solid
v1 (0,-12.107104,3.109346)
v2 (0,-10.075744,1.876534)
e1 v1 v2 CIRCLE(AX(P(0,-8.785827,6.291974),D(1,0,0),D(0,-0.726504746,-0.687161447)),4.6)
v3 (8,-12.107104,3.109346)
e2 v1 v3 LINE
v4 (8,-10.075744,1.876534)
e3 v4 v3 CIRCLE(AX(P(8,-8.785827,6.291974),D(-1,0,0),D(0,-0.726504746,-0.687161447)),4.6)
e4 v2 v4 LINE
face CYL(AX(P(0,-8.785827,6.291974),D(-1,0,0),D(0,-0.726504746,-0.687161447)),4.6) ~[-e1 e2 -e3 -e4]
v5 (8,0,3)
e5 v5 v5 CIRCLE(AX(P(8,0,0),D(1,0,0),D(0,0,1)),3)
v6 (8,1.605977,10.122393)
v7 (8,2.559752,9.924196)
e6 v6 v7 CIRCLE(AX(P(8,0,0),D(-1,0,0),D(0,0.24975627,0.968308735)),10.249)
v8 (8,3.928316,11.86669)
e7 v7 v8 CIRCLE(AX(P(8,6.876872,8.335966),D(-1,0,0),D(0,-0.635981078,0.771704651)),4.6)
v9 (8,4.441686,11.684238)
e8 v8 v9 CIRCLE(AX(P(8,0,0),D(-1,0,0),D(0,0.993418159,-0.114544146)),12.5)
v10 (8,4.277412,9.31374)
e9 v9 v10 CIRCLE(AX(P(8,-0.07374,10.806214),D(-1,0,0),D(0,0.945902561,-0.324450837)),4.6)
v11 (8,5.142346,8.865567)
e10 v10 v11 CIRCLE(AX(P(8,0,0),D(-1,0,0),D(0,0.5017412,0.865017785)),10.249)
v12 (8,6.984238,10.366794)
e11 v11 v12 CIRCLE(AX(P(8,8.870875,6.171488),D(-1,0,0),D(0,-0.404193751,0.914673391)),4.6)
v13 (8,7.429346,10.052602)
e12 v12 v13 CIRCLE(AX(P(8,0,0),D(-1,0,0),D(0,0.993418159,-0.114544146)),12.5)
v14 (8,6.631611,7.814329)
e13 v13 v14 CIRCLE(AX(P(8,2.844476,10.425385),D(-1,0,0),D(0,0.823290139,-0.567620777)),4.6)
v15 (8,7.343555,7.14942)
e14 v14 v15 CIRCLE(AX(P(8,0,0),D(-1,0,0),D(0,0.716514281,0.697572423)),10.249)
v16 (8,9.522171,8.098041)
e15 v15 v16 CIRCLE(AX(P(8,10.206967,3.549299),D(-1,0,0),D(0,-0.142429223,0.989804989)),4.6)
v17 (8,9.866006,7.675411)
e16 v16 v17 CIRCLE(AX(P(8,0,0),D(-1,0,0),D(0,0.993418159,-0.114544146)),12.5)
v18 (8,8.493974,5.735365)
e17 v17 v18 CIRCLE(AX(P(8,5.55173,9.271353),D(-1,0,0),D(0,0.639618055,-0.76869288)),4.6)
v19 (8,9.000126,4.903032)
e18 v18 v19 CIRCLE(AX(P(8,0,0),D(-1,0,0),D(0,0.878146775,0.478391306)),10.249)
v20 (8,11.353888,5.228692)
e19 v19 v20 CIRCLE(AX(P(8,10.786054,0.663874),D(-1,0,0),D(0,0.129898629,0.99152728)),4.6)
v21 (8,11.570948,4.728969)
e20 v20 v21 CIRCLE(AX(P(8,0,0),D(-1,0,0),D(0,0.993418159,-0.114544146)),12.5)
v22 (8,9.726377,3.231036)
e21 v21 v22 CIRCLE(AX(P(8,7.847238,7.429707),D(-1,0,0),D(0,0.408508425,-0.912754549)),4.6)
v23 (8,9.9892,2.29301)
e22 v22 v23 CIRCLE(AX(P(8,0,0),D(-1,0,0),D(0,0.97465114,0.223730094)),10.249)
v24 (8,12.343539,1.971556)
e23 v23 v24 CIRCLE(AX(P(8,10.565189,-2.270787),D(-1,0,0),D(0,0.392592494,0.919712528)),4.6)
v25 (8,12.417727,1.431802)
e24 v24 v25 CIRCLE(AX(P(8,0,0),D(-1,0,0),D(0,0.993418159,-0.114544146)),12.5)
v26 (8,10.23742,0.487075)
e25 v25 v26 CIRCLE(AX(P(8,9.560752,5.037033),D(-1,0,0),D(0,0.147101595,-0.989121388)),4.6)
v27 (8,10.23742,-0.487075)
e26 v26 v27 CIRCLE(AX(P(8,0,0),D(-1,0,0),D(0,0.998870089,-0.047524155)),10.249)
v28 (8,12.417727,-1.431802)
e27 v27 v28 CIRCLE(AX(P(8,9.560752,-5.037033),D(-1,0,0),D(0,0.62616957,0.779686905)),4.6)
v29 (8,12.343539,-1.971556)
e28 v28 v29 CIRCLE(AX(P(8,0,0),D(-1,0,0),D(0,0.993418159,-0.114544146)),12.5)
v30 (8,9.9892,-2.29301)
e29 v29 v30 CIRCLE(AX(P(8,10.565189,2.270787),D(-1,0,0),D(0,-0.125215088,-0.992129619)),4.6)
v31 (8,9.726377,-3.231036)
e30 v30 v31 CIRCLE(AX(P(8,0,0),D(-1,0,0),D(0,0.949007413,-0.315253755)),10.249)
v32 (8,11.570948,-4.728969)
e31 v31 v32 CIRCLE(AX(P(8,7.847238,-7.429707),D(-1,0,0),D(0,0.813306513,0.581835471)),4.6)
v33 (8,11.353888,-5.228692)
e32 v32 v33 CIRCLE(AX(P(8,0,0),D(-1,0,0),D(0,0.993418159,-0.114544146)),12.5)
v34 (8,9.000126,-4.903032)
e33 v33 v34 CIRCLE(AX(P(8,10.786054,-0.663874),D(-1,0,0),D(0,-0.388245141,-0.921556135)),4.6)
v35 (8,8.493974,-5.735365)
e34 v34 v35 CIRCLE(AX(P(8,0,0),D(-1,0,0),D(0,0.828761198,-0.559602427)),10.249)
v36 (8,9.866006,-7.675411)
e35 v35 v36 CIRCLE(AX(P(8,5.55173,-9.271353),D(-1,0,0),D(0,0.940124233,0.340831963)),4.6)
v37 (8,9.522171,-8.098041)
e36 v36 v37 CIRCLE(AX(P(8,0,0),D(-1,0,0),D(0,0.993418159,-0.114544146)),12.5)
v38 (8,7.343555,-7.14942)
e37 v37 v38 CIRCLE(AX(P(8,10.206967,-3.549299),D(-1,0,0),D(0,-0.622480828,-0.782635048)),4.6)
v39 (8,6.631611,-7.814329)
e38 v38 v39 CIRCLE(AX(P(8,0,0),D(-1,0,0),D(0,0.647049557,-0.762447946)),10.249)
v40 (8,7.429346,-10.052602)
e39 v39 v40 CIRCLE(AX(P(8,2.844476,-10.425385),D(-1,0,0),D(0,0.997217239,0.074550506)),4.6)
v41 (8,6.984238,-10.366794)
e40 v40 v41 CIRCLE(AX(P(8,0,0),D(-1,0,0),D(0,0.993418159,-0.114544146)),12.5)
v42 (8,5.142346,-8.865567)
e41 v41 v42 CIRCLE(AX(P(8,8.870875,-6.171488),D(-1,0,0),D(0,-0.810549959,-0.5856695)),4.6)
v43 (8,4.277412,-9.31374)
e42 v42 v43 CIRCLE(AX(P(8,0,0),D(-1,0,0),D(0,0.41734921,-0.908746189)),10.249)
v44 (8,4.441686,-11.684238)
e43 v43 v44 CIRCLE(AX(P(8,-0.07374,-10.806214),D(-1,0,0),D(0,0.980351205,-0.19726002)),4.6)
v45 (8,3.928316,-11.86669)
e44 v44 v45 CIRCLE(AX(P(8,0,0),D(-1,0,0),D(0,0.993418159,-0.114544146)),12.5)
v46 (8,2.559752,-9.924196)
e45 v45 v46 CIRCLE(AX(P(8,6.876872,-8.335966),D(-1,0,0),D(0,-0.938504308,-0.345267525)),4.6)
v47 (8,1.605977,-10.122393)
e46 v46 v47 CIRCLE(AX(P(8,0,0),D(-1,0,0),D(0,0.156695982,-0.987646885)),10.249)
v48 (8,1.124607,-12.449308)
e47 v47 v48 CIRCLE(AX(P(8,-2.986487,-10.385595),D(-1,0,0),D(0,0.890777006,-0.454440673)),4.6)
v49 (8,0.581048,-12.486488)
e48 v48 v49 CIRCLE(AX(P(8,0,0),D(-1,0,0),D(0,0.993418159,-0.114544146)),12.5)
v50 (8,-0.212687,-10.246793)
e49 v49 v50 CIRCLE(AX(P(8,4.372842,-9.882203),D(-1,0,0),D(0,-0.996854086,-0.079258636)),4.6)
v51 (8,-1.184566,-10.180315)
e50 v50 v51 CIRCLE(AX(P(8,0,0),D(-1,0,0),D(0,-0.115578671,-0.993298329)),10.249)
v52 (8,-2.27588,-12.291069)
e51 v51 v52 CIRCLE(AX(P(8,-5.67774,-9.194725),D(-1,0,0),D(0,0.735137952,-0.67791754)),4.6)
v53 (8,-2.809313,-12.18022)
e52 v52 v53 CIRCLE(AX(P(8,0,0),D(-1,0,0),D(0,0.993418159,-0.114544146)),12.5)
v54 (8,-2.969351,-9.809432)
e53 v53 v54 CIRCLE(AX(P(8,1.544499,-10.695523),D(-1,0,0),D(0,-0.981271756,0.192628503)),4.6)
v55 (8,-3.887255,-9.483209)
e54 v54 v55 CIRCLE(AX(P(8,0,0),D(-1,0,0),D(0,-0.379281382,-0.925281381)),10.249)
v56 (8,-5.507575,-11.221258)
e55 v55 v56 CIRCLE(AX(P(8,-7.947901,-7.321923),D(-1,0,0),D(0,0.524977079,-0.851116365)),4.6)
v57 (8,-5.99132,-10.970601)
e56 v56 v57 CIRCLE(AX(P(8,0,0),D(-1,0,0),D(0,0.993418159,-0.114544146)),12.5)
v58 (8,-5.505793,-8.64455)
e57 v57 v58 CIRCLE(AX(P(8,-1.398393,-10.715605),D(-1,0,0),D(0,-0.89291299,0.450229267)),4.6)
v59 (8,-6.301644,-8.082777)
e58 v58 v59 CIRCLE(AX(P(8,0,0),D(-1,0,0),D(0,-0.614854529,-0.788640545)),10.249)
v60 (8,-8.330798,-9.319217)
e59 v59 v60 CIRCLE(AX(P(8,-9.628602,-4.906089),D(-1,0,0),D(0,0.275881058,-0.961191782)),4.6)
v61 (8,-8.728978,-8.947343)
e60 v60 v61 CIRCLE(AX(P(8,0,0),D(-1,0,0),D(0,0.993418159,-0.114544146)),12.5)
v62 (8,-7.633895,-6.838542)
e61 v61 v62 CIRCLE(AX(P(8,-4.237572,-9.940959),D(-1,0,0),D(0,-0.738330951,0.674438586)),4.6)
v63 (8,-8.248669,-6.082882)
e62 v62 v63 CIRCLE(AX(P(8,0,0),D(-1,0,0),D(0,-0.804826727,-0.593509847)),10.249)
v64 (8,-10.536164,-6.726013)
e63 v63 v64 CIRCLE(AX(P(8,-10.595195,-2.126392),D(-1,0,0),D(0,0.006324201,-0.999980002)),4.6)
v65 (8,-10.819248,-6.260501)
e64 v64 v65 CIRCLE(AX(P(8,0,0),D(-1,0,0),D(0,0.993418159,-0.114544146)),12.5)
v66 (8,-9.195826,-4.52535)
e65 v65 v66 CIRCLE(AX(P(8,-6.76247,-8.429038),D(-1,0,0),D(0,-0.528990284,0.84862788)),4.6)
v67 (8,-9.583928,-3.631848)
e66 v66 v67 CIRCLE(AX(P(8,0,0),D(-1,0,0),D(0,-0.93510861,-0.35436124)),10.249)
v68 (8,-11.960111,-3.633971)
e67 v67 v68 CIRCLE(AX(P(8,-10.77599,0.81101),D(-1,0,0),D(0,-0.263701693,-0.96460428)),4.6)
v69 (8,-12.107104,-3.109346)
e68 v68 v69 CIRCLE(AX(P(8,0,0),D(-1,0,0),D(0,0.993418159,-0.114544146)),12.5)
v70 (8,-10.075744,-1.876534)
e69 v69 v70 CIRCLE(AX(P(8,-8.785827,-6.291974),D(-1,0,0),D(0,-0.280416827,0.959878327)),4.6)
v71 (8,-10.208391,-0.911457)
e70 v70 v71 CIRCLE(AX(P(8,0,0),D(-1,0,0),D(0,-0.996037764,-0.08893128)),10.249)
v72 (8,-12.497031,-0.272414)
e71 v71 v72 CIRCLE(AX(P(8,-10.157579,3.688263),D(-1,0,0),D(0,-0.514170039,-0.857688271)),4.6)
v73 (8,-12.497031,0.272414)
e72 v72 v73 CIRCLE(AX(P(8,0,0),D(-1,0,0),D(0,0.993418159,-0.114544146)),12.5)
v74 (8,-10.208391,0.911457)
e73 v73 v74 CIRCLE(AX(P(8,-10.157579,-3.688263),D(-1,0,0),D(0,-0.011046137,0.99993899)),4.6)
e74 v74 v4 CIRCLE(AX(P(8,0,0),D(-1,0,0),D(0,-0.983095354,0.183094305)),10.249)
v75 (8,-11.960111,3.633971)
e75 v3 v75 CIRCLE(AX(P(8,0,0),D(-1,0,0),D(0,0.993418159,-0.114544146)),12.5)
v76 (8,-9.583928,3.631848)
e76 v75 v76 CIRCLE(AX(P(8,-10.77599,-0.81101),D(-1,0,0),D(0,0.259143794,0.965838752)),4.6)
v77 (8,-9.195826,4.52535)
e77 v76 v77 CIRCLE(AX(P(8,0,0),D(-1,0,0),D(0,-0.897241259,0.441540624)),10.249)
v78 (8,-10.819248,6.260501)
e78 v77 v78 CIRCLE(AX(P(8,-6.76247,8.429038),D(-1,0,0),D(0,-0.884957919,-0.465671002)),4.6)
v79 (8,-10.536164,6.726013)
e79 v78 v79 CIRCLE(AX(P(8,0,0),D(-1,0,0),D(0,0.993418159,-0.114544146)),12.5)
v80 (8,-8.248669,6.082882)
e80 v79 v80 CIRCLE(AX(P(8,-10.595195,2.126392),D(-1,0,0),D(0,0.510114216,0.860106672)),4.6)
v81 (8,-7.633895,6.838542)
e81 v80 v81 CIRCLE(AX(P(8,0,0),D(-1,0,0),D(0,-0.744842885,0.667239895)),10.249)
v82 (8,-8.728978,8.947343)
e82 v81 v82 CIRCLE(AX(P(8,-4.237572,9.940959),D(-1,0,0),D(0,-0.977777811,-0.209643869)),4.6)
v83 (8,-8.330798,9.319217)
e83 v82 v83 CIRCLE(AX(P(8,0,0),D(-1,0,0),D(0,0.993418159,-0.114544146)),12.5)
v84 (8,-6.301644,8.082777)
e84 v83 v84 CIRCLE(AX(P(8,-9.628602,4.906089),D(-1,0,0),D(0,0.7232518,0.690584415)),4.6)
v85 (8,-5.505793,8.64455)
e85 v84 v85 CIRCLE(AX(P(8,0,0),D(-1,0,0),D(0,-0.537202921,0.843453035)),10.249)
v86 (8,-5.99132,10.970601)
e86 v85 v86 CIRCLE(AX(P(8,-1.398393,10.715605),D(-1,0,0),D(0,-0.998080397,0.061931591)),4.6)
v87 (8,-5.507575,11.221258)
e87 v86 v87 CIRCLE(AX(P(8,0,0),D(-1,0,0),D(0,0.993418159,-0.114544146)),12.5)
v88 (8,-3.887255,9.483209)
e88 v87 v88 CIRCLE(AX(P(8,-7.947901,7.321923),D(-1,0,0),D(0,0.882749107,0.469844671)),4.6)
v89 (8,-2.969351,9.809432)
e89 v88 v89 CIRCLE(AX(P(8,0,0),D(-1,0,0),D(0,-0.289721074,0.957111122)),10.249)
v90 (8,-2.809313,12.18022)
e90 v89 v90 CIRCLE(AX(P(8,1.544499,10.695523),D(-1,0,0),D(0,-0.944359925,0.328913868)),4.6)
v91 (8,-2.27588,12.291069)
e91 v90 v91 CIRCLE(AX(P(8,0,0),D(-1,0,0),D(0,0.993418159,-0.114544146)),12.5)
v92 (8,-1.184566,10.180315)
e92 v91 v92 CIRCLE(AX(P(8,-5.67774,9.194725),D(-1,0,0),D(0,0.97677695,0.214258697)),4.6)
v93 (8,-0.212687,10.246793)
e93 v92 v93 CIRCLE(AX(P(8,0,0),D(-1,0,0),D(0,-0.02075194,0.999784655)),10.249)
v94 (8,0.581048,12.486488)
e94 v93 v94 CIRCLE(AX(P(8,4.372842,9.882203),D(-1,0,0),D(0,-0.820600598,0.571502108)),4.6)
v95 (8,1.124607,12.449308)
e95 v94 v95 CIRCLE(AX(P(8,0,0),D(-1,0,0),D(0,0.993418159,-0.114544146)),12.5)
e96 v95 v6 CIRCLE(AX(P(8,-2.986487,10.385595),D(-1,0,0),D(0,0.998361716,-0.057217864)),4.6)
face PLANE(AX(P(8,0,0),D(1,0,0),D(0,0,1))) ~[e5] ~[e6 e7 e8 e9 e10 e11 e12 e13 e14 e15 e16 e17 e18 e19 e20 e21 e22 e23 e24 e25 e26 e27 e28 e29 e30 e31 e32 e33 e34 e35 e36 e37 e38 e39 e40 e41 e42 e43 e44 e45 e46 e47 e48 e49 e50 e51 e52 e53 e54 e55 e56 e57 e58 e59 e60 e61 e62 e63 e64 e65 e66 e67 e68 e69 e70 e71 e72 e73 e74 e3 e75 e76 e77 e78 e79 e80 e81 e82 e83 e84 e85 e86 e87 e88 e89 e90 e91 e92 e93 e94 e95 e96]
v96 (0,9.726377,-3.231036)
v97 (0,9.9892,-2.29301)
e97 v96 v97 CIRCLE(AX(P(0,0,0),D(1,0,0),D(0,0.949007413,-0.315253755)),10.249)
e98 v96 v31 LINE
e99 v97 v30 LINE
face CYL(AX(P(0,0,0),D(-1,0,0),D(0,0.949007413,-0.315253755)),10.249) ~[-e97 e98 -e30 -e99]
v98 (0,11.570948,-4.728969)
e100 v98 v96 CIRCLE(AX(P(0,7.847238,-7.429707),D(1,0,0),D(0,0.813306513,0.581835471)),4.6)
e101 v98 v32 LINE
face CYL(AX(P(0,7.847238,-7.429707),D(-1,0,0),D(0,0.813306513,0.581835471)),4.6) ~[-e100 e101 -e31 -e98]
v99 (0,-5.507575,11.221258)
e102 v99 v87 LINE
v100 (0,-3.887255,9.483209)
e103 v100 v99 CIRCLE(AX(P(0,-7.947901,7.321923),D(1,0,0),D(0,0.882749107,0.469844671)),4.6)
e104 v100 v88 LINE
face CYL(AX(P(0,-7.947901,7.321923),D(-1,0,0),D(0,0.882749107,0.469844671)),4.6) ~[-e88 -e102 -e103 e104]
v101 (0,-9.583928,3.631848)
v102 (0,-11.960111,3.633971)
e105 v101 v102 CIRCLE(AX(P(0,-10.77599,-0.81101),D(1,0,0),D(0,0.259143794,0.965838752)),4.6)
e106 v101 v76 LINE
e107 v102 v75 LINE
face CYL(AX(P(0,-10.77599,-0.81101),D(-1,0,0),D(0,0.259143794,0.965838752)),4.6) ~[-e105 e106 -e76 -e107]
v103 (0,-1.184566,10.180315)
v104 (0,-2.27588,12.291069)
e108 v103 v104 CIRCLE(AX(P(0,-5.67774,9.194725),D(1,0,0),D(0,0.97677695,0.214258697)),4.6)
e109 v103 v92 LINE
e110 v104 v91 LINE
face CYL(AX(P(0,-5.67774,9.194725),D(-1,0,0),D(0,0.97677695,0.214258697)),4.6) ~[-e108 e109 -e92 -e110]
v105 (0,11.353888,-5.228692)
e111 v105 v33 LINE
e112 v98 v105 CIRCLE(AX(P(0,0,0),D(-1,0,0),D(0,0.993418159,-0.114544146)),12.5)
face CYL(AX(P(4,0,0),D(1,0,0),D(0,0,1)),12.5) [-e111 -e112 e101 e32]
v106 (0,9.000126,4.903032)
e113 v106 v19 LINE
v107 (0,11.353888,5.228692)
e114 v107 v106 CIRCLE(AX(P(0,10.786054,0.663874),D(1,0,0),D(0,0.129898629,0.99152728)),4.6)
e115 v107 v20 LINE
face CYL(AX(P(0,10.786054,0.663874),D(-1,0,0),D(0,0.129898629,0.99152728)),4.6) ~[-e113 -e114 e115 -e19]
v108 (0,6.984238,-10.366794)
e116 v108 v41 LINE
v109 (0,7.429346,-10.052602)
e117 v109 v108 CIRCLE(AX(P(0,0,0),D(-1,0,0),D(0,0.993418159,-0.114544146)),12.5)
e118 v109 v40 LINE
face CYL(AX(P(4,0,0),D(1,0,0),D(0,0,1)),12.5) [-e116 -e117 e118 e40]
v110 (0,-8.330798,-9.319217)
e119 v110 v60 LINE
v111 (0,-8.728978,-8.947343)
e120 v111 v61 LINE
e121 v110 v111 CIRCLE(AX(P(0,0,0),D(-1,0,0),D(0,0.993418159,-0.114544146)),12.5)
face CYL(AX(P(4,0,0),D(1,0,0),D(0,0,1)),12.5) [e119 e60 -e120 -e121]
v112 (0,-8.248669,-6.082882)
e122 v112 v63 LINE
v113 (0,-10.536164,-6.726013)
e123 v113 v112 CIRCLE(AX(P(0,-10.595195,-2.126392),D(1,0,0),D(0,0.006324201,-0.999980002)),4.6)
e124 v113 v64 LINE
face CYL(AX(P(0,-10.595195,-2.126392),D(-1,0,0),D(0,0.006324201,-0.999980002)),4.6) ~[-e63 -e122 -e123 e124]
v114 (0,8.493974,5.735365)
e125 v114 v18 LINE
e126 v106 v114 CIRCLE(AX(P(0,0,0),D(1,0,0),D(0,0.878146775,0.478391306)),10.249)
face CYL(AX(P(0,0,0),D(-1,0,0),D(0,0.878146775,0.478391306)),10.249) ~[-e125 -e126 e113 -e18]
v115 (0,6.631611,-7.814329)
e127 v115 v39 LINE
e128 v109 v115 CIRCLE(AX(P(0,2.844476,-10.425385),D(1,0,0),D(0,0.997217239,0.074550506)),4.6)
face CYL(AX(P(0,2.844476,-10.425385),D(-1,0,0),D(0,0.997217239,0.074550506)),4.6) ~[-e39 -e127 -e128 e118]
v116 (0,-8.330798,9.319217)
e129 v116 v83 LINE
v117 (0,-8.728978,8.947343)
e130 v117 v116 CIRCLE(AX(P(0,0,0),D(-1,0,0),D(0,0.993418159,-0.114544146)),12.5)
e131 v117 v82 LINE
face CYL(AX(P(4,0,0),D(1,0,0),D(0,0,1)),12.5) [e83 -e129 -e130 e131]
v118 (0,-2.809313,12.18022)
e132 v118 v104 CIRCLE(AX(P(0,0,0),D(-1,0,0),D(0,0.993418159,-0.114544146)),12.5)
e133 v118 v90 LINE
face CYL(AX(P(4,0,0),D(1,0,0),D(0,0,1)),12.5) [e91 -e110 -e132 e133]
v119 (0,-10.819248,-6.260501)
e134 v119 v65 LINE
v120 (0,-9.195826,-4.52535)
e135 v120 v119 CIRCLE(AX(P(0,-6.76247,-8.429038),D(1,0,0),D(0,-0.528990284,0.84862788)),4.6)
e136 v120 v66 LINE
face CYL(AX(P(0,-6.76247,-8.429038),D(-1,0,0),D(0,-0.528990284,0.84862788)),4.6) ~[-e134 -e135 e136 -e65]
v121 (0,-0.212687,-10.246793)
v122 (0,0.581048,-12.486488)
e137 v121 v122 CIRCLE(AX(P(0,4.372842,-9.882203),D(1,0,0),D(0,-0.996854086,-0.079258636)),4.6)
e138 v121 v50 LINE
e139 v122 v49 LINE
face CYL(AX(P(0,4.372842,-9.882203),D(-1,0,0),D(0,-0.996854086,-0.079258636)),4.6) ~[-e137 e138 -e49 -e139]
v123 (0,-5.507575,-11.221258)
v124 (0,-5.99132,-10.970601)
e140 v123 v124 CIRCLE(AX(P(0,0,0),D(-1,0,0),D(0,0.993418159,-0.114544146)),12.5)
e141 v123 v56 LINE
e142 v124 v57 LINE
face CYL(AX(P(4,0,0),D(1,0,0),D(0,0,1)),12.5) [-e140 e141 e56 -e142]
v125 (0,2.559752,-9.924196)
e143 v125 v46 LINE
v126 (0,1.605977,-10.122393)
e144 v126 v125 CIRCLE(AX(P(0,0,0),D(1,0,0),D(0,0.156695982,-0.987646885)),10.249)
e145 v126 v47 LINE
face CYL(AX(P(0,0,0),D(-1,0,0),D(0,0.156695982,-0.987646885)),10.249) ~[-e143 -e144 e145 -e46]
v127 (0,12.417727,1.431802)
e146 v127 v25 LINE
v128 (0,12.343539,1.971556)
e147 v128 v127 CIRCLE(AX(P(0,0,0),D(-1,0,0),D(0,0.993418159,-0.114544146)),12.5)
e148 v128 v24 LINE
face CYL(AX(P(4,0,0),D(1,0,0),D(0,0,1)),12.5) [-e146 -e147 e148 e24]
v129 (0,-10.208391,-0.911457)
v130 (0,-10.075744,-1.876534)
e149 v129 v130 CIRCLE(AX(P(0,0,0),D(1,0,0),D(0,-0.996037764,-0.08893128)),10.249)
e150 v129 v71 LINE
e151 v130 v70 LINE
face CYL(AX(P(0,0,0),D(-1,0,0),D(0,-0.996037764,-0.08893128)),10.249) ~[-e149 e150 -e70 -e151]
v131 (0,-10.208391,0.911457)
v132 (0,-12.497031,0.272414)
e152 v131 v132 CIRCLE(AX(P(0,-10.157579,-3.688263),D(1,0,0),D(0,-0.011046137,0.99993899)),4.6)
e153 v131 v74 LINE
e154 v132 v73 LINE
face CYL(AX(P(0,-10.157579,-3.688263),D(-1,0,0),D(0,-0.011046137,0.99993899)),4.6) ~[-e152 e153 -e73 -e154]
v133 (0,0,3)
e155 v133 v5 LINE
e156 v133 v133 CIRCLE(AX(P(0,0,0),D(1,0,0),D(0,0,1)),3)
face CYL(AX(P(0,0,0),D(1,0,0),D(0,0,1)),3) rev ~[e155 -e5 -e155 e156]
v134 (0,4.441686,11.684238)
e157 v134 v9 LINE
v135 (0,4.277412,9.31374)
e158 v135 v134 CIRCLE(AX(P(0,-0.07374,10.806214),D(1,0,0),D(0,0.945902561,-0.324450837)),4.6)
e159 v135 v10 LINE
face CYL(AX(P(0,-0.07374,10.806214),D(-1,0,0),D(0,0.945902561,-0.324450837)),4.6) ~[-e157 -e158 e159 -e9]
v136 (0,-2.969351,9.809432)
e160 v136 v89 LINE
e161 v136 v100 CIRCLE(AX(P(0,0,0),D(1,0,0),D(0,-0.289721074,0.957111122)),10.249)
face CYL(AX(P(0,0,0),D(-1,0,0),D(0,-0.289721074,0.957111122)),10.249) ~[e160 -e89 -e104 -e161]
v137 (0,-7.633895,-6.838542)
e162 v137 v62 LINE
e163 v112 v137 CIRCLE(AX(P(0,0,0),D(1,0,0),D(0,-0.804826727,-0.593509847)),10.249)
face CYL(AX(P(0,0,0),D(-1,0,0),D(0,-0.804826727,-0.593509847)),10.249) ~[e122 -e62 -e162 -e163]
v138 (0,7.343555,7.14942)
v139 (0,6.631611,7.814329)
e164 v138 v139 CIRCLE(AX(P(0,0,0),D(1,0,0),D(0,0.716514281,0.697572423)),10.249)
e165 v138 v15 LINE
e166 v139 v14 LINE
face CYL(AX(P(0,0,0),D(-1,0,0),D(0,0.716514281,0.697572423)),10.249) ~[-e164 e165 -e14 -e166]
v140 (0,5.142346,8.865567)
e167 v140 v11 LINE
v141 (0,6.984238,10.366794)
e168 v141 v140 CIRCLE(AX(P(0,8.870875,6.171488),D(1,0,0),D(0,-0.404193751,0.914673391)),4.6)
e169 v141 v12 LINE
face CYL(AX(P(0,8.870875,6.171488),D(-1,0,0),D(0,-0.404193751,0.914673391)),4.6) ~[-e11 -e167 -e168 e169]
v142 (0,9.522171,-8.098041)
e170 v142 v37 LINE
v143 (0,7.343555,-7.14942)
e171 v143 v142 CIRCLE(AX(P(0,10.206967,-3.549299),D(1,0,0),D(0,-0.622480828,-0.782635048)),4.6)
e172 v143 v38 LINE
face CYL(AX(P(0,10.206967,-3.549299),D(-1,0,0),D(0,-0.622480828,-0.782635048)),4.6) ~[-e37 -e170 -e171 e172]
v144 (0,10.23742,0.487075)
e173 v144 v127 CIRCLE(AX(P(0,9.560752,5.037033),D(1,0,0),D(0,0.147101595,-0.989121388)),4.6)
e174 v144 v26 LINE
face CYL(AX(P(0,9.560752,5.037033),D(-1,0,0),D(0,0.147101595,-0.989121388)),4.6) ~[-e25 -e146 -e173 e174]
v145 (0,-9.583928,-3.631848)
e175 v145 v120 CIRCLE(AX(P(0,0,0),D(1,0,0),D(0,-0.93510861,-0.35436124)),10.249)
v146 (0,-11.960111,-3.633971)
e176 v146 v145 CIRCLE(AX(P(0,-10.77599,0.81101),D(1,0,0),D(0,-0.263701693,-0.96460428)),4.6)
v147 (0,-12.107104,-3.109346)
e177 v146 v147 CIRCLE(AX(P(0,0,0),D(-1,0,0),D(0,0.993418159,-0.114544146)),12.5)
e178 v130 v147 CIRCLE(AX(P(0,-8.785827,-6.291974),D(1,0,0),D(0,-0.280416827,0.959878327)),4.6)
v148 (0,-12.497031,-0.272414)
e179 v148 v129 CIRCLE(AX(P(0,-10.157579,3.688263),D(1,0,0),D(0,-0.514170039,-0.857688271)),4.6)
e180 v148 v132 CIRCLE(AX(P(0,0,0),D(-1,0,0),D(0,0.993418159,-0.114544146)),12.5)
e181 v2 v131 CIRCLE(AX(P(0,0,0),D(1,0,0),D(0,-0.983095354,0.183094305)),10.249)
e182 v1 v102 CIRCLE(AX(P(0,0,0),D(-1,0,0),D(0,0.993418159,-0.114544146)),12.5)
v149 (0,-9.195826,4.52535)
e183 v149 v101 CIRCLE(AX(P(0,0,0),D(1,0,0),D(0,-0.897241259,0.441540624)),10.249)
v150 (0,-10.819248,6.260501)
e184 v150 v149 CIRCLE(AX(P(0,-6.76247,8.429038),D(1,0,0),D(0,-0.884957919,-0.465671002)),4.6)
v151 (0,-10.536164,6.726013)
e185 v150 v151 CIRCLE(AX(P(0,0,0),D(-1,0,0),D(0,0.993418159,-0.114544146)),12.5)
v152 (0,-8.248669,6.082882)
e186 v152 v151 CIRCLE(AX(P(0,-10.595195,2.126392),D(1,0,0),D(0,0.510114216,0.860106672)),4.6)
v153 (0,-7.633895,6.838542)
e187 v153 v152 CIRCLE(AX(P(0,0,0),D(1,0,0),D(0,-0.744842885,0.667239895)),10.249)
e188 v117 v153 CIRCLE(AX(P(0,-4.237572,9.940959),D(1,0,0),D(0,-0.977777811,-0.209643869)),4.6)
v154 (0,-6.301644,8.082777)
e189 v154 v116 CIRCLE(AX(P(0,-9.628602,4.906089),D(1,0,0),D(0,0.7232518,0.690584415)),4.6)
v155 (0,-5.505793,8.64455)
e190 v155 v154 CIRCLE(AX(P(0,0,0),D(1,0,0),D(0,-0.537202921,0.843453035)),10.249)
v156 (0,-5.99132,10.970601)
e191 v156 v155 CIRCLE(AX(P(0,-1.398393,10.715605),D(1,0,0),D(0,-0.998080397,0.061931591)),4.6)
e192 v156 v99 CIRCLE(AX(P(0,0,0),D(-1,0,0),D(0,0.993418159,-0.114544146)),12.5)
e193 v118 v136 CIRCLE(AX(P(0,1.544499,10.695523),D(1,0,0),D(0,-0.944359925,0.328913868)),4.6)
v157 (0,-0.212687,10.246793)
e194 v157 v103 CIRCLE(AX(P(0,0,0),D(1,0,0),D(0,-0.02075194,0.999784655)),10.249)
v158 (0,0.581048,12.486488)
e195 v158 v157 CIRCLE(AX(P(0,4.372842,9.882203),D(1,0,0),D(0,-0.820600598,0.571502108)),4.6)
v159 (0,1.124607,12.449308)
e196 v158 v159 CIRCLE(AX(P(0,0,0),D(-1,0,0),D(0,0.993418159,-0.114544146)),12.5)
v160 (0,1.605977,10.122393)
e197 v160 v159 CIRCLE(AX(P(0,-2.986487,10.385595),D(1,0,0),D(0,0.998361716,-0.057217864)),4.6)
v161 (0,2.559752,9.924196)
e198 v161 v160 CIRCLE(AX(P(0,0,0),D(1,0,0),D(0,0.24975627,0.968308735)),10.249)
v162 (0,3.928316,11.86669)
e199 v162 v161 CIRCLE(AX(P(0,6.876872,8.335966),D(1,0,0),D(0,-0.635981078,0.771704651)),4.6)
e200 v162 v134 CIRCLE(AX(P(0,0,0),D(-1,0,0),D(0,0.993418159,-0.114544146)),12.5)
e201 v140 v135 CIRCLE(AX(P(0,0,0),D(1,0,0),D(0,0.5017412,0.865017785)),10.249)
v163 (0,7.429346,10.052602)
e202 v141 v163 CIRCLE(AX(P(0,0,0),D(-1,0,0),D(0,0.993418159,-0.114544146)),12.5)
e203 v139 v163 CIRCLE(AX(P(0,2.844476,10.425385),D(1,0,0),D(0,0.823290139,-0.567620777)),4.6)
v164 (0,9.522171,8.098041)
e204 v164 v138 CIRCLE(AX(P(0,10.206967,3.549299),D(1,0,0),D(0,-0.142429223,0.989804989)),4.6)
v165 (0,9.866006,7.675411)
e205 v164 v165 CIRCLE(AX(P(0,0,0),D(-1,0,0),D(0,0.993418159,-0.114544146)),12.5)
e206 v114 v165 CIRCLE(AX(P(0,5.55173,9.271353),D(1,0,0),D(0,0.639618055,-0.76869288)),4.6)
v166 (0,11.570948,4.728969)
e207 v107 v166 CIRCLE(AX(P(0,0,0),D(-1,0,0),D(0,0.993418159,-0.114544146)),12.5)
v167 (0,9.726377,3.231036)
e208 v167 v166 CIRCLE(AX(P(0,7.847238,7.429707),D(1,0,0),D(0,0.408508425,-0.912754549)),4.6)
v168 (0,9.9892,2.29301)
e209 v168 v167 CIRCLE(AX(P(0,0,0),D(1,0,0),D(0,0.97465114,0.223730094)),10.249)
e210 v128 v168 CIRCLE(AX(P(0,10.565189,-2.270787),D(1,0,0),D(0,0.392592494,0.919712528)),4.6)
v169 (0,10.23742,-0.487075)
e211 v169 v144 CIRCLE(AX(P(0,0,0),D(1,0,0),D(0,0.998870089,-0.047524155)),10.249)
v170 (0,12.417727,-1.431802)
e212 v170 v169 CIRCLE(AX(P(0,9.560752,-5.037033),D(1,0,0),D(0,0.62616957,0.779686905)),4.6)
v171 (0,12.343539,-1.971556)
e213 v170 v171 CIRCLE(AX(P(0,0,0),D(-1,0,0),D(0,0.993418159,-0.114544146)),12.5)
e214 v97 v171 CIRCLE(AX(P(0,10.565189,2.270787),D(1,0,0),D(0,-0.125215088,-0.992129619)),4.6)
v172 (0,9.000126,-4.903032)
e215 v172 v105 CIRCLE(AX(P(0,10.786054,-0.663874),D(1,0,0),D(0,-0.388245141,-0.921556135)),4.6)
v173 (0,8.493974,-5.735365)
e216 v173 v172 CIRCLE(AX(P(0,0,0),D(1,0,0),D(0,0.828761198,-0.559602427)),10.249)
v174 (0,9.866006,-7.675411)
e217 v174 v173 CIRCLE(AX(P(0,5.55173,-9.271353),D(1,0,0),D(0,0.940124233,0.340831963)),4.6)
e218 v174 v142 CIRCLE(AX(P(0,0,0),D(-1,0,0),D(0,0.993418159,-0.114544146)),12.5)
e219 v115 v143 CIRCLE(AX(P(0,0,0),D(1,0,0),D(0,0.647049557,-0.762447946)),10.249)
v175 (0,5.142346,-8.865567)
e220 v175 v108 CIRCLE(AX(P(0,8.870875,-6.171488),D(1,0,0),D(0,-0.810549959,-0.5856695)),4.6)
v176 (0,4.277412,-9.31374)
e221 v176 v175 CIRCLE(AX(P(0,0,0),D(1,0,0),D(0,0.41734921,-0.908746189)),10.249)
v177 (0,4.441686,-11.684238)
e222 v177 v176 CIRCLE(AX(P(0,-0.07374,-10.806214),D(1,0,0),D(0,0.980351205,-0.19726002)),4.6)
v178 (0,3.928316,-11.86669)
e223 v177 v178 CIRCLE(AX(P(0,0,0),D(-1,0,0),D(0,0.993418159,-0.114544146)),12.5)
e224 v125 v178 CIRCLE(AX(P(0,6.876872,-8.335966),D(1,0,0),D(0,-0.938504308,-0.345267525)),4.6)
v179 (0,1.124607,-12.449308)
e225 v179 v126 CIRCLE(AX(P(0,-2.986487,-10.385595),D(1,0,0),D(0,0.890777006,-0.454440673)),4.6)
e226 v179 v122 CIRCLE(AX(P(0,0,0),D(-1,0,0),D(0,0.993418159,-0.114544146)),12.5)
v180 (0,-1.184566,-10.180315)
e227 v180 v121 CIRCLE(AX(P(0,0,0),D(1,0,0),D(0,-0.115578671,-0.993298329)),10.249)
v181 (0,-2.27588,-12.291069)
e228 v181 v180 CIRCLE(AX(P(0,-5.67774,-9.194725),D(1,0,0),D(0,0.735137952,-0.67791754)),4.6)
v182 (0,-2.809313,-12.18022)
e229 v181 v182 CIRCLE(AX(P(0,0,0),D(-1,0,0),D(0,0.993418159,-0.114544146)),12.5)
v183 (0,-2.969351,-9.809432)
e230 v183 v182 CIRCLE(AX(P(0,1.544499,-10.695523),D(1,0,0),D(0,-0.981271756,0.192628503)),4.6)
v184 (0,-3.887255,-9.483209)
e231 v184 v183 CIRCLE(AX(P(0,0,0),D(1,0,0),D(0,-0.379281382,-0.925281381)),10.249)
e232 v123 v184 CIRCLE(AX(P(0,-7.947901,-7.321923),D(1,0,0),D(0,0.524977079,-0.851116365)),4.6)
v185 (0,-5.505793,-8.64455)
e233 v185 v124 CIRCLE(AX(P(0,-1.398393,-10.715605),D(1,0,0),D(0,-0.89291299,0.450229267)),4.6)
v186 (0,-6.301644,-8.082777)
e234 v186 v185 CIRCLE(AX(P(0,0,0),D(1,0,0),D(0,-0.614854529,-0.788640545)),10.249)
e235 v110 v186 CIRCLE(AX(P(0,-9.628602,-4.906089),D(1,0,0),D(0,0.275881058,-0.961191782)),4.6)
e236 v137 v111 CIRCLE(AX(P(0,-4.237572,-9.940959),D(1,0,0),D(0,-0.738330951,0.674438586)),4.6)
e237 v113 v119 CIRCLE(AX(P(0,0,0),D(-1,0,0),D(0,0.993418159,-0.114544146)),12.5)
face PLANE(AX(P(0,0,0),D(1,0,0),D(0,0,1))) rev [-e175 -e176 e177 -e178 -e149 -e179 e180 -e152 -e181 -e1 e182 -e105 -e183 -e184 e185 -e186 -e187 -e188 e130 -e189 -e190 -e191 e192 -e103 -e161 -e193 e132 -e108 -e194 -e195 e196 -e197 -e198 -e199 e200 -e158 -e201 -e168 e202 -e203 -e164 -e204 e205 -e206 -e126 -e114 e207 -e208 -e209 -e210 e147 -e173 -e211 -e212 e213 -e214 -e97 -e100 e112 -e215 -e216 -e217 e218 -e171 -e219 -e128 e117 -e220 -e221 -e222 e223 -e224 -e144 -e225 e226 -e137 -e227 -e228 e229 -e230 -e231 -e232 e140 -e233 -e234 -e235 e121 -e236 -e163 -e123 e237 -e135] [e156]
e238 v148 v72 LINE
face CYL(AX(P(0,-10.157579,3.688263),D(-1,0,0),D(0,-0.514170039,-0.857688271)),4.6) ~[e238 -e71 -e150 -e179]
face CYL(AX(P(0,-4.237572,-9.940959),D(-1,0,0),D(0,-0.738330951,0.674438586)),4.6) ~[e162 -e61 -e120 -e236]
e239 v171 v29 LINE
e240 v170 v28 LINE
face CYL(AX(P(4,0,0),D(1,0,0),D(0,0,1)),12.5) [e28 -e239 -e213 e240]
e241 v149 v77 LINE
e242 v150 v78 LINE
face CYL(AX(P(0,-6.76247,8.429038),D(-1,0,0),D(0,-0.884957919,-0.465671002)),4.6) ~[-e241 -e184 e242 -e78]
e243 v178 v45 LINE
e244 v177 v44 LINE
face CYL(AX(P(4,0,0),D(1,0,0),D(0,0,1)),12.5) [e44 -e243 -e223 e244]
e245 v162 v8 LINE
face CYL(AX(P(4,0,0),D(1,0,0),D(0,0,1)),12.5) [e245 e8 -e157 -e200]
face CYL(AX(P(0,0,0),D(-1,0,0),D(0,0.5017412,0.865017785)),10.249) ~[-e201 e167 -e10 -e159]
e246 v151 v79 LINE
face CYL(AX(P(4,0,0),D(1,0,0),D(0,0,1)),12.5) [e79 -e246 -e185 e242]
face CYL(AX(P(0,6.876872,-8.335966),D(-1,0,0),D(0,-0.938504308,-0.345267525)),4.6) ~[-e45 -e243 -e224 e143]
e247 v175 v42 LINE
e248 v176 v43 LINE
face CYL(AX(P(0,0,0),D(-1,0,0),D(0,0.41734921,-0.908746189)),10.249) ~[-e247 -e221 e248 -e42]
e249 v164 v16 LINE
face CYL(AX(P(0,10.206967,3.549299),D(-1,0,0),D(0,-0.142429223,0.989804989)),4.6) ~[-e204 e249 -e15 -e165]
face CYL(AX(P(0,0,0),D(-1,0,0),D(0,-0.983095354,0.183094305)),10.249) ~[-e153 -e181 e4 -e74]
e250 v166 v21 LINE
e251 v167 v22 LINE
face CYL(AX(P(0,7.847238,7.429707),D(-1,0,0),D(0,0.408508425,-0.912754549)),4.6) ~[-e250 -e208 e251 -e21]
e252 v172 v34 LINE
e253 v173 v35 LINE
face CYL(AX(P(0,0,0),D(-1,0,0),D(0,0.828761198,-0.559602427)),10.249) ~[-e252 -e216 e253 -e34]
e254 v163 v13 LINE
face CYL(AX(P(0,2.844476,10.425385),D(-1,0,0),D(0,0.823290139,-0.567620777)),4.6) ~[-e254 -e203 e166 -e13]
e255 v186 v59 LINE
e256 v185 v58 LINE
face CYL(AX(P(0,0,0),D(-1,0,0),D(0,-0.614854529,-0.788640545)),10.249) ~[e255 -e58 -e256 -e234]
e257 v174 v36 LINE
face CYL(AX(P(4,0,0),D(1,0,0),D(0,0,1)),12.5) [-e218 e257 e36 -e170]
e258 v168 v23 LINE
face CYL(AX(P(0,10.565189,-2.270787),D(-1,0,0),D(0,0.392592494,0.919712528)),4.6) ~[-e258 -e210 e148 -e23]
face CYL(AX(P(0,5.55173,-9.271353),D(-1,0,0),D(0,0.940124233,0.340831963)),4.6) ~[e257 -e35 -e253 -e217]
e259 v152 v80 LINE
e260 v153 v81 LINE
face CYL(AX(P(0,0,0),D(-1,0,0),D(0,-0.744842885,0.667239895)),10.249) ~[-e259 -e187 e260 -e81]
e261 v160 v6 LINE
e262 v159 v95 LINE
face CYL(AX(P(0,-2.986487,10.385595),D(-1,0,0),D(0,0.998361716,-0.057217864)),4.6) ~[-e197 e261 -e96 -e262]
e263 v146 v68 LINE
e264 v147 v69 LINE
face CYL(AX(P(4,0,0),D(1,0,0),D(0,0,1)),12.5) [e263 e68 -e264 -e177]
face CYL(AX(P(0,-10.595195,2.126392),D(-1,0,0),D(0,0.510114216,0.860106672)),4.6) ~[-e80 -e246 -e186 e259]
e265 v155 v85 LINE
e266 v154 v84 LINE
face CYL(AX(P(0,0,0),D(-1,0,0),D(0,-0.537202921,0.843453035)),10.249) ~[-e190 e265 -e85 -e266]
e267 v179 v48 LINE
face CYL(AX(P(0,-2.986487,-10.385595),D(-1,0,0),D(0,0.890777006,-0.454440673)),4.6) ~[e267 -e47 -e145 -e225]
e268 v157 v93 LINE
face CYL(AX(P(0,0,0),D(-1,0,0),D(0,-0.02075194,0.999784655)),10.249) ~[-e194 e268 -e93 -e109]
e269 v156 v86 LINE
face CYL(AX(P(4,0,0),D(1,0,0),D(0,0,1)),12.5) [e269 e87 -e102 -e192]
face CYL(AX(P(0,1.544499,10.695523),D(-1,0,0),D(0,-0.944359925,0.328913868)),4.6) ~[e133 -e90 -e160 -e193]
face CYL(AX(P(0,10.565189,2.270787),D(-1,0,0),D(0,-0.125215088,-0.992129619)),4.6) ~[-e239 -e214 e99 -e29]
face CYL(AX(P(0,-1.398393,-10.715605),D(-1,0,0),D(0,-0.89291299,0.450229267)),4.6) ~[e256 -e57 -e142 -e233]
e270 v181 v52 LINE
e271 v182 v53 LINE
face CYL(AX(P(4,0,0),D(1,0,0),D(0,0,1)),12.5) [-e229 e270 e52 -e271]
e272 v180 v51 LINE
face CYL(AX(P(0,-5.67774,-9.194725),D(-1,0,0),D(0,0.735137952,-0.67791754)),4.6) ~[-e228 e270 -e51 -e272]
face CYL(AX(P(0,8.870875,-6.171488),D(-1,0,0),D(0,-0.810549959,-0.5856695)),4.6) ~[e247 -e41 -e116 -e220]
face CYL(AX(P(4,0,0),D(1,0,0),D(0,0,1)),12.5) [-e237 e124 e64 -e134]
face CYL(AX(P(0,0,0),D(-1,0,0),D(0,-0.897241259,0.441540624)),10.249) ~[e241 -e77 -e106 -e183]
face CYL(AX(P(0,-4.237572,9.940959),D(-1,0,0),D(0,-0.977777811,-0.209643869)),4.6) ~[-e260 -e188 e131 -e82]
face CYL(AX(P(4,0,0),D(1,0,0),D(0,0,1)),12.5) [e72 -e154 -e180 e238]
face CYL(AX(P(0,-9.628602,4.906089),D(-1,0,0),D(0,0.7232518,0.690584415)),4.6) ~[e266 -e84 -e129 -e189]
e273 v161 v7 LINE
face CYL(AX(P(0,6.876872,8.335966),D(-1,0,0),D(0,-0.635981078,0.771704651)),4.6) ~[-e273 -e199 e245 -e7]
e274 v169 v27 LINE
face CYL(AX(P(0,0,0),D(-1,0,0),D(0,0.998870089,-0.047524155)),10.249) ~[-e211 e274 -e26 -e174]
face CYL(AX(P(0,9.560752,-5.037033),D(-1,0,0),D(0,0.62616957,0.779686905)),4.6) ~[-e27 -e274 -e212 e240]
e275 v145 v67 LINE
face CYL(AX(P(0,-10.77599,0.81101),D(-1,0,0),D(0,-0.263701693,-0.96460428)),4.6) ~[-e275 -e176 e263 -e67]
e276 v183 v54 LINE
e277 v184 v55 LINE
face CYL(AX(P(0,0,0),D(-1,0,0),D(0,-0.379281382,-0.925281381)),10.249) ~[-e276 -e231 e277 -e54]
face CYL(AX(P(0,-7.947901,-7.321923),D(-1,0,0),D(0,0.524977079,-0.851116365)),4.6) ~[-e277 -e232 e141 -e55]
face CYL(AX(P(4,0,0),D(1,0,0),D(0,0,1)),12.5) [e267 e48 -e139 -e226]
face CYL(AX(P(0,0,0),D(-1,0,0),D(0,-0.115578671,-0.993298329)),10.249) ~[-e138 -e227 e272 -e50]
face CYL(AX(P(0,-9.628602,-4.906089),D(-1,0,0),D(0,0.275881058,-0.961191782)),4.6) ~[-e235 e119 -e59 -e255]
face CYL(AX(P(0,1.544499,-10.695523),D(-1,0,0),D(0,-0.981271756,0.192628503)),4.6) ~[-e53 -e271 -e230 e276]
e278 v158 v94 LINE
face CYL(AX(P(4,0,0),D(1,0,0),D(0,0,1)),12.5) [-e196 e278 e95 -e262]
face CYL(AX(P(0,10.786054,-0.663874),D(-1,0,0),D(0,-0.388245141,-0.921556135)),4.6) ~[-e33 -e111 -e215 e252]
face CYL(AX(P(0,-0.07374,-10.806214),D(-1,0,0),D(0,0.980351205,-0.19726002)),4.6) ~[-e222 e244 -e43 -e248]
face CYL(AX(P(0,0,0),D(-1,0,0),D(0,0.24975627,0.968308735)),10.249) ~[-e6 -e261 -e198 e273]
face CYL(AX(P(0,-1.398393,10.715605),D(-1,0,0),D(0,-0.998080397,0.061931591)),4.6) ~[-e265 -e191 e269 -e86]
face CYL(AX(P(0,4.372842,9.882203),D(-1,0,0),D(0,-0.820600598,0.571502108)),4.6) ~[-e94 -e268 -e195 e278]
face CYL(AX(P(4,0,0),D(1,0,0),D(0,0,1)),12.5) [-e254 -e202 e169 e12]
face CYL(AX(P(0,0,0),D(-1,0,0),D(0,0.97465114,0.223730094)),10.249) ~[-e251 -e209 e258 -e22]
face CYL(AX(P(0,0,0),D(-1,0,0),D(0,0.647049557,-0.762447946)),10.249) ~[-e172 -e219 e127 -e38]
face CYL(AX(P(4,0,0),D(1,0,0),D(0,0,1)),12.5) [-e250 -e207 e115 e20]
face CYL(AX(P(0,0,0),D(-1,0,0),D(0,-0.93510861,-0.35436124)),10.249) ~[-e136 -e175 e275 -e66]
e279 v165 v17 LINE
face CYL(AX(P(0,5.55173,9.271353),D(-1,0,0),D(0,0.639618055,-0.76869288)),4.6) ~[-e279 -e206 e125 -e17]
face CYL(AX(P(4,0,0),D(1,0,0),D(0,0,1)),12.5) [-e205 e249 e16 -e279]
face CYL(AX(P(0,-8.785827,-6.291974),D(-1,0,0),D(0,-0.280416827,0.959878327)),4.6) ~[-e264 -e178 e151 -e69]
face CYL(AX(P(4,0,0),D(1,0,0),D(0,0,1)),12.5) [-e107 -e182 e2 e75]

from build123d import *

# Parameters (mm, degrees)
BASPROSKE_W     = 8
BASPROSKE_H     = 12.5
TOOTHCUT_DEPTH  = 20.403607912
TEETHCUTS_COUNT = 23
TEETHCUTS_ANGLE = 344.347826087
BORSKE_R        = 3
BORE_DEPTH      = 50.0000508


with BuildPart() as part:
    # BasProSke → Base-Revolve (revolve)
    with BuildSketch(Plane(origin=(0, 0, 0), x_dir=(1, 0, 0), z_dir=(0, 1, 0)), mode=Mode.PRIVATE) as base_revolve_sk:
        with Locations((4, 6.25)):
            Rectangle(BASPROSKE_W, BASPROSKE_H)
    revolve(base_revolve_sk.sketch.rotate(Axis((-10, 0, 0), (1, 0, 0)), 180), axis=Axis((-10, 0, 0), (1, 0, 0)))

    # TooCutSke → ToothCut (cut, through all)
    with BuildSketch(Plane(origin=(0, 0, 0), x_dir=(0, 0, -1), z_dir=(1, 0, 0))):
        with BuildLine():
            ThreePointArc((0.487075069, 10.237419542), (0, 10.249), (-0.487075069, 10.237419542))
            ThreePointArc((-0.487075069, 10.237419542), (-0.822200209, 11.403353821), (-1.450473694, 12.441132232))
            ThreePointArc((-1.450473694, 12.441132232), (0, 12.5254), (1.450473694, 12.441132232))
            ThreePointArc((1.450473694, 12.441132232), (0.822200209, 11.403353821), (0.487075069, 10.237419542))
        make_face()
    toothcut = extrude(amount=TOOTHCUT_DEPTH, mode=Mode.SUBTRACT)

    # TeethCuts: ToothCut ×23 about axis
    teethcuts_axis = Axis((-10, 0, 0), (1, 0, 0))
    for i in range(1, TEETHCUTS_COUNT):
        add(toothcut.rotate(teethcuts_axis, i * TEETHCUTS_ANGLE / (TEETHCUTS_COUNT - 1)), mode=Mode.SUBTRACT)

    # BorSke → Bore (cut, symmetric)
    with BuildSketch(Plane(origin=(0, 0, 0), x_dir=(0, 0, -1), z_dir=(1, 0, 0))):
        with Locations(Location((0, 0, 0), (0, 0, 180))):
            Circle(BORSKE_R)
    extrude(amount=BORE_DEPTH, both=True, mode=Mode.SUBTRACT)


solid = part.part
